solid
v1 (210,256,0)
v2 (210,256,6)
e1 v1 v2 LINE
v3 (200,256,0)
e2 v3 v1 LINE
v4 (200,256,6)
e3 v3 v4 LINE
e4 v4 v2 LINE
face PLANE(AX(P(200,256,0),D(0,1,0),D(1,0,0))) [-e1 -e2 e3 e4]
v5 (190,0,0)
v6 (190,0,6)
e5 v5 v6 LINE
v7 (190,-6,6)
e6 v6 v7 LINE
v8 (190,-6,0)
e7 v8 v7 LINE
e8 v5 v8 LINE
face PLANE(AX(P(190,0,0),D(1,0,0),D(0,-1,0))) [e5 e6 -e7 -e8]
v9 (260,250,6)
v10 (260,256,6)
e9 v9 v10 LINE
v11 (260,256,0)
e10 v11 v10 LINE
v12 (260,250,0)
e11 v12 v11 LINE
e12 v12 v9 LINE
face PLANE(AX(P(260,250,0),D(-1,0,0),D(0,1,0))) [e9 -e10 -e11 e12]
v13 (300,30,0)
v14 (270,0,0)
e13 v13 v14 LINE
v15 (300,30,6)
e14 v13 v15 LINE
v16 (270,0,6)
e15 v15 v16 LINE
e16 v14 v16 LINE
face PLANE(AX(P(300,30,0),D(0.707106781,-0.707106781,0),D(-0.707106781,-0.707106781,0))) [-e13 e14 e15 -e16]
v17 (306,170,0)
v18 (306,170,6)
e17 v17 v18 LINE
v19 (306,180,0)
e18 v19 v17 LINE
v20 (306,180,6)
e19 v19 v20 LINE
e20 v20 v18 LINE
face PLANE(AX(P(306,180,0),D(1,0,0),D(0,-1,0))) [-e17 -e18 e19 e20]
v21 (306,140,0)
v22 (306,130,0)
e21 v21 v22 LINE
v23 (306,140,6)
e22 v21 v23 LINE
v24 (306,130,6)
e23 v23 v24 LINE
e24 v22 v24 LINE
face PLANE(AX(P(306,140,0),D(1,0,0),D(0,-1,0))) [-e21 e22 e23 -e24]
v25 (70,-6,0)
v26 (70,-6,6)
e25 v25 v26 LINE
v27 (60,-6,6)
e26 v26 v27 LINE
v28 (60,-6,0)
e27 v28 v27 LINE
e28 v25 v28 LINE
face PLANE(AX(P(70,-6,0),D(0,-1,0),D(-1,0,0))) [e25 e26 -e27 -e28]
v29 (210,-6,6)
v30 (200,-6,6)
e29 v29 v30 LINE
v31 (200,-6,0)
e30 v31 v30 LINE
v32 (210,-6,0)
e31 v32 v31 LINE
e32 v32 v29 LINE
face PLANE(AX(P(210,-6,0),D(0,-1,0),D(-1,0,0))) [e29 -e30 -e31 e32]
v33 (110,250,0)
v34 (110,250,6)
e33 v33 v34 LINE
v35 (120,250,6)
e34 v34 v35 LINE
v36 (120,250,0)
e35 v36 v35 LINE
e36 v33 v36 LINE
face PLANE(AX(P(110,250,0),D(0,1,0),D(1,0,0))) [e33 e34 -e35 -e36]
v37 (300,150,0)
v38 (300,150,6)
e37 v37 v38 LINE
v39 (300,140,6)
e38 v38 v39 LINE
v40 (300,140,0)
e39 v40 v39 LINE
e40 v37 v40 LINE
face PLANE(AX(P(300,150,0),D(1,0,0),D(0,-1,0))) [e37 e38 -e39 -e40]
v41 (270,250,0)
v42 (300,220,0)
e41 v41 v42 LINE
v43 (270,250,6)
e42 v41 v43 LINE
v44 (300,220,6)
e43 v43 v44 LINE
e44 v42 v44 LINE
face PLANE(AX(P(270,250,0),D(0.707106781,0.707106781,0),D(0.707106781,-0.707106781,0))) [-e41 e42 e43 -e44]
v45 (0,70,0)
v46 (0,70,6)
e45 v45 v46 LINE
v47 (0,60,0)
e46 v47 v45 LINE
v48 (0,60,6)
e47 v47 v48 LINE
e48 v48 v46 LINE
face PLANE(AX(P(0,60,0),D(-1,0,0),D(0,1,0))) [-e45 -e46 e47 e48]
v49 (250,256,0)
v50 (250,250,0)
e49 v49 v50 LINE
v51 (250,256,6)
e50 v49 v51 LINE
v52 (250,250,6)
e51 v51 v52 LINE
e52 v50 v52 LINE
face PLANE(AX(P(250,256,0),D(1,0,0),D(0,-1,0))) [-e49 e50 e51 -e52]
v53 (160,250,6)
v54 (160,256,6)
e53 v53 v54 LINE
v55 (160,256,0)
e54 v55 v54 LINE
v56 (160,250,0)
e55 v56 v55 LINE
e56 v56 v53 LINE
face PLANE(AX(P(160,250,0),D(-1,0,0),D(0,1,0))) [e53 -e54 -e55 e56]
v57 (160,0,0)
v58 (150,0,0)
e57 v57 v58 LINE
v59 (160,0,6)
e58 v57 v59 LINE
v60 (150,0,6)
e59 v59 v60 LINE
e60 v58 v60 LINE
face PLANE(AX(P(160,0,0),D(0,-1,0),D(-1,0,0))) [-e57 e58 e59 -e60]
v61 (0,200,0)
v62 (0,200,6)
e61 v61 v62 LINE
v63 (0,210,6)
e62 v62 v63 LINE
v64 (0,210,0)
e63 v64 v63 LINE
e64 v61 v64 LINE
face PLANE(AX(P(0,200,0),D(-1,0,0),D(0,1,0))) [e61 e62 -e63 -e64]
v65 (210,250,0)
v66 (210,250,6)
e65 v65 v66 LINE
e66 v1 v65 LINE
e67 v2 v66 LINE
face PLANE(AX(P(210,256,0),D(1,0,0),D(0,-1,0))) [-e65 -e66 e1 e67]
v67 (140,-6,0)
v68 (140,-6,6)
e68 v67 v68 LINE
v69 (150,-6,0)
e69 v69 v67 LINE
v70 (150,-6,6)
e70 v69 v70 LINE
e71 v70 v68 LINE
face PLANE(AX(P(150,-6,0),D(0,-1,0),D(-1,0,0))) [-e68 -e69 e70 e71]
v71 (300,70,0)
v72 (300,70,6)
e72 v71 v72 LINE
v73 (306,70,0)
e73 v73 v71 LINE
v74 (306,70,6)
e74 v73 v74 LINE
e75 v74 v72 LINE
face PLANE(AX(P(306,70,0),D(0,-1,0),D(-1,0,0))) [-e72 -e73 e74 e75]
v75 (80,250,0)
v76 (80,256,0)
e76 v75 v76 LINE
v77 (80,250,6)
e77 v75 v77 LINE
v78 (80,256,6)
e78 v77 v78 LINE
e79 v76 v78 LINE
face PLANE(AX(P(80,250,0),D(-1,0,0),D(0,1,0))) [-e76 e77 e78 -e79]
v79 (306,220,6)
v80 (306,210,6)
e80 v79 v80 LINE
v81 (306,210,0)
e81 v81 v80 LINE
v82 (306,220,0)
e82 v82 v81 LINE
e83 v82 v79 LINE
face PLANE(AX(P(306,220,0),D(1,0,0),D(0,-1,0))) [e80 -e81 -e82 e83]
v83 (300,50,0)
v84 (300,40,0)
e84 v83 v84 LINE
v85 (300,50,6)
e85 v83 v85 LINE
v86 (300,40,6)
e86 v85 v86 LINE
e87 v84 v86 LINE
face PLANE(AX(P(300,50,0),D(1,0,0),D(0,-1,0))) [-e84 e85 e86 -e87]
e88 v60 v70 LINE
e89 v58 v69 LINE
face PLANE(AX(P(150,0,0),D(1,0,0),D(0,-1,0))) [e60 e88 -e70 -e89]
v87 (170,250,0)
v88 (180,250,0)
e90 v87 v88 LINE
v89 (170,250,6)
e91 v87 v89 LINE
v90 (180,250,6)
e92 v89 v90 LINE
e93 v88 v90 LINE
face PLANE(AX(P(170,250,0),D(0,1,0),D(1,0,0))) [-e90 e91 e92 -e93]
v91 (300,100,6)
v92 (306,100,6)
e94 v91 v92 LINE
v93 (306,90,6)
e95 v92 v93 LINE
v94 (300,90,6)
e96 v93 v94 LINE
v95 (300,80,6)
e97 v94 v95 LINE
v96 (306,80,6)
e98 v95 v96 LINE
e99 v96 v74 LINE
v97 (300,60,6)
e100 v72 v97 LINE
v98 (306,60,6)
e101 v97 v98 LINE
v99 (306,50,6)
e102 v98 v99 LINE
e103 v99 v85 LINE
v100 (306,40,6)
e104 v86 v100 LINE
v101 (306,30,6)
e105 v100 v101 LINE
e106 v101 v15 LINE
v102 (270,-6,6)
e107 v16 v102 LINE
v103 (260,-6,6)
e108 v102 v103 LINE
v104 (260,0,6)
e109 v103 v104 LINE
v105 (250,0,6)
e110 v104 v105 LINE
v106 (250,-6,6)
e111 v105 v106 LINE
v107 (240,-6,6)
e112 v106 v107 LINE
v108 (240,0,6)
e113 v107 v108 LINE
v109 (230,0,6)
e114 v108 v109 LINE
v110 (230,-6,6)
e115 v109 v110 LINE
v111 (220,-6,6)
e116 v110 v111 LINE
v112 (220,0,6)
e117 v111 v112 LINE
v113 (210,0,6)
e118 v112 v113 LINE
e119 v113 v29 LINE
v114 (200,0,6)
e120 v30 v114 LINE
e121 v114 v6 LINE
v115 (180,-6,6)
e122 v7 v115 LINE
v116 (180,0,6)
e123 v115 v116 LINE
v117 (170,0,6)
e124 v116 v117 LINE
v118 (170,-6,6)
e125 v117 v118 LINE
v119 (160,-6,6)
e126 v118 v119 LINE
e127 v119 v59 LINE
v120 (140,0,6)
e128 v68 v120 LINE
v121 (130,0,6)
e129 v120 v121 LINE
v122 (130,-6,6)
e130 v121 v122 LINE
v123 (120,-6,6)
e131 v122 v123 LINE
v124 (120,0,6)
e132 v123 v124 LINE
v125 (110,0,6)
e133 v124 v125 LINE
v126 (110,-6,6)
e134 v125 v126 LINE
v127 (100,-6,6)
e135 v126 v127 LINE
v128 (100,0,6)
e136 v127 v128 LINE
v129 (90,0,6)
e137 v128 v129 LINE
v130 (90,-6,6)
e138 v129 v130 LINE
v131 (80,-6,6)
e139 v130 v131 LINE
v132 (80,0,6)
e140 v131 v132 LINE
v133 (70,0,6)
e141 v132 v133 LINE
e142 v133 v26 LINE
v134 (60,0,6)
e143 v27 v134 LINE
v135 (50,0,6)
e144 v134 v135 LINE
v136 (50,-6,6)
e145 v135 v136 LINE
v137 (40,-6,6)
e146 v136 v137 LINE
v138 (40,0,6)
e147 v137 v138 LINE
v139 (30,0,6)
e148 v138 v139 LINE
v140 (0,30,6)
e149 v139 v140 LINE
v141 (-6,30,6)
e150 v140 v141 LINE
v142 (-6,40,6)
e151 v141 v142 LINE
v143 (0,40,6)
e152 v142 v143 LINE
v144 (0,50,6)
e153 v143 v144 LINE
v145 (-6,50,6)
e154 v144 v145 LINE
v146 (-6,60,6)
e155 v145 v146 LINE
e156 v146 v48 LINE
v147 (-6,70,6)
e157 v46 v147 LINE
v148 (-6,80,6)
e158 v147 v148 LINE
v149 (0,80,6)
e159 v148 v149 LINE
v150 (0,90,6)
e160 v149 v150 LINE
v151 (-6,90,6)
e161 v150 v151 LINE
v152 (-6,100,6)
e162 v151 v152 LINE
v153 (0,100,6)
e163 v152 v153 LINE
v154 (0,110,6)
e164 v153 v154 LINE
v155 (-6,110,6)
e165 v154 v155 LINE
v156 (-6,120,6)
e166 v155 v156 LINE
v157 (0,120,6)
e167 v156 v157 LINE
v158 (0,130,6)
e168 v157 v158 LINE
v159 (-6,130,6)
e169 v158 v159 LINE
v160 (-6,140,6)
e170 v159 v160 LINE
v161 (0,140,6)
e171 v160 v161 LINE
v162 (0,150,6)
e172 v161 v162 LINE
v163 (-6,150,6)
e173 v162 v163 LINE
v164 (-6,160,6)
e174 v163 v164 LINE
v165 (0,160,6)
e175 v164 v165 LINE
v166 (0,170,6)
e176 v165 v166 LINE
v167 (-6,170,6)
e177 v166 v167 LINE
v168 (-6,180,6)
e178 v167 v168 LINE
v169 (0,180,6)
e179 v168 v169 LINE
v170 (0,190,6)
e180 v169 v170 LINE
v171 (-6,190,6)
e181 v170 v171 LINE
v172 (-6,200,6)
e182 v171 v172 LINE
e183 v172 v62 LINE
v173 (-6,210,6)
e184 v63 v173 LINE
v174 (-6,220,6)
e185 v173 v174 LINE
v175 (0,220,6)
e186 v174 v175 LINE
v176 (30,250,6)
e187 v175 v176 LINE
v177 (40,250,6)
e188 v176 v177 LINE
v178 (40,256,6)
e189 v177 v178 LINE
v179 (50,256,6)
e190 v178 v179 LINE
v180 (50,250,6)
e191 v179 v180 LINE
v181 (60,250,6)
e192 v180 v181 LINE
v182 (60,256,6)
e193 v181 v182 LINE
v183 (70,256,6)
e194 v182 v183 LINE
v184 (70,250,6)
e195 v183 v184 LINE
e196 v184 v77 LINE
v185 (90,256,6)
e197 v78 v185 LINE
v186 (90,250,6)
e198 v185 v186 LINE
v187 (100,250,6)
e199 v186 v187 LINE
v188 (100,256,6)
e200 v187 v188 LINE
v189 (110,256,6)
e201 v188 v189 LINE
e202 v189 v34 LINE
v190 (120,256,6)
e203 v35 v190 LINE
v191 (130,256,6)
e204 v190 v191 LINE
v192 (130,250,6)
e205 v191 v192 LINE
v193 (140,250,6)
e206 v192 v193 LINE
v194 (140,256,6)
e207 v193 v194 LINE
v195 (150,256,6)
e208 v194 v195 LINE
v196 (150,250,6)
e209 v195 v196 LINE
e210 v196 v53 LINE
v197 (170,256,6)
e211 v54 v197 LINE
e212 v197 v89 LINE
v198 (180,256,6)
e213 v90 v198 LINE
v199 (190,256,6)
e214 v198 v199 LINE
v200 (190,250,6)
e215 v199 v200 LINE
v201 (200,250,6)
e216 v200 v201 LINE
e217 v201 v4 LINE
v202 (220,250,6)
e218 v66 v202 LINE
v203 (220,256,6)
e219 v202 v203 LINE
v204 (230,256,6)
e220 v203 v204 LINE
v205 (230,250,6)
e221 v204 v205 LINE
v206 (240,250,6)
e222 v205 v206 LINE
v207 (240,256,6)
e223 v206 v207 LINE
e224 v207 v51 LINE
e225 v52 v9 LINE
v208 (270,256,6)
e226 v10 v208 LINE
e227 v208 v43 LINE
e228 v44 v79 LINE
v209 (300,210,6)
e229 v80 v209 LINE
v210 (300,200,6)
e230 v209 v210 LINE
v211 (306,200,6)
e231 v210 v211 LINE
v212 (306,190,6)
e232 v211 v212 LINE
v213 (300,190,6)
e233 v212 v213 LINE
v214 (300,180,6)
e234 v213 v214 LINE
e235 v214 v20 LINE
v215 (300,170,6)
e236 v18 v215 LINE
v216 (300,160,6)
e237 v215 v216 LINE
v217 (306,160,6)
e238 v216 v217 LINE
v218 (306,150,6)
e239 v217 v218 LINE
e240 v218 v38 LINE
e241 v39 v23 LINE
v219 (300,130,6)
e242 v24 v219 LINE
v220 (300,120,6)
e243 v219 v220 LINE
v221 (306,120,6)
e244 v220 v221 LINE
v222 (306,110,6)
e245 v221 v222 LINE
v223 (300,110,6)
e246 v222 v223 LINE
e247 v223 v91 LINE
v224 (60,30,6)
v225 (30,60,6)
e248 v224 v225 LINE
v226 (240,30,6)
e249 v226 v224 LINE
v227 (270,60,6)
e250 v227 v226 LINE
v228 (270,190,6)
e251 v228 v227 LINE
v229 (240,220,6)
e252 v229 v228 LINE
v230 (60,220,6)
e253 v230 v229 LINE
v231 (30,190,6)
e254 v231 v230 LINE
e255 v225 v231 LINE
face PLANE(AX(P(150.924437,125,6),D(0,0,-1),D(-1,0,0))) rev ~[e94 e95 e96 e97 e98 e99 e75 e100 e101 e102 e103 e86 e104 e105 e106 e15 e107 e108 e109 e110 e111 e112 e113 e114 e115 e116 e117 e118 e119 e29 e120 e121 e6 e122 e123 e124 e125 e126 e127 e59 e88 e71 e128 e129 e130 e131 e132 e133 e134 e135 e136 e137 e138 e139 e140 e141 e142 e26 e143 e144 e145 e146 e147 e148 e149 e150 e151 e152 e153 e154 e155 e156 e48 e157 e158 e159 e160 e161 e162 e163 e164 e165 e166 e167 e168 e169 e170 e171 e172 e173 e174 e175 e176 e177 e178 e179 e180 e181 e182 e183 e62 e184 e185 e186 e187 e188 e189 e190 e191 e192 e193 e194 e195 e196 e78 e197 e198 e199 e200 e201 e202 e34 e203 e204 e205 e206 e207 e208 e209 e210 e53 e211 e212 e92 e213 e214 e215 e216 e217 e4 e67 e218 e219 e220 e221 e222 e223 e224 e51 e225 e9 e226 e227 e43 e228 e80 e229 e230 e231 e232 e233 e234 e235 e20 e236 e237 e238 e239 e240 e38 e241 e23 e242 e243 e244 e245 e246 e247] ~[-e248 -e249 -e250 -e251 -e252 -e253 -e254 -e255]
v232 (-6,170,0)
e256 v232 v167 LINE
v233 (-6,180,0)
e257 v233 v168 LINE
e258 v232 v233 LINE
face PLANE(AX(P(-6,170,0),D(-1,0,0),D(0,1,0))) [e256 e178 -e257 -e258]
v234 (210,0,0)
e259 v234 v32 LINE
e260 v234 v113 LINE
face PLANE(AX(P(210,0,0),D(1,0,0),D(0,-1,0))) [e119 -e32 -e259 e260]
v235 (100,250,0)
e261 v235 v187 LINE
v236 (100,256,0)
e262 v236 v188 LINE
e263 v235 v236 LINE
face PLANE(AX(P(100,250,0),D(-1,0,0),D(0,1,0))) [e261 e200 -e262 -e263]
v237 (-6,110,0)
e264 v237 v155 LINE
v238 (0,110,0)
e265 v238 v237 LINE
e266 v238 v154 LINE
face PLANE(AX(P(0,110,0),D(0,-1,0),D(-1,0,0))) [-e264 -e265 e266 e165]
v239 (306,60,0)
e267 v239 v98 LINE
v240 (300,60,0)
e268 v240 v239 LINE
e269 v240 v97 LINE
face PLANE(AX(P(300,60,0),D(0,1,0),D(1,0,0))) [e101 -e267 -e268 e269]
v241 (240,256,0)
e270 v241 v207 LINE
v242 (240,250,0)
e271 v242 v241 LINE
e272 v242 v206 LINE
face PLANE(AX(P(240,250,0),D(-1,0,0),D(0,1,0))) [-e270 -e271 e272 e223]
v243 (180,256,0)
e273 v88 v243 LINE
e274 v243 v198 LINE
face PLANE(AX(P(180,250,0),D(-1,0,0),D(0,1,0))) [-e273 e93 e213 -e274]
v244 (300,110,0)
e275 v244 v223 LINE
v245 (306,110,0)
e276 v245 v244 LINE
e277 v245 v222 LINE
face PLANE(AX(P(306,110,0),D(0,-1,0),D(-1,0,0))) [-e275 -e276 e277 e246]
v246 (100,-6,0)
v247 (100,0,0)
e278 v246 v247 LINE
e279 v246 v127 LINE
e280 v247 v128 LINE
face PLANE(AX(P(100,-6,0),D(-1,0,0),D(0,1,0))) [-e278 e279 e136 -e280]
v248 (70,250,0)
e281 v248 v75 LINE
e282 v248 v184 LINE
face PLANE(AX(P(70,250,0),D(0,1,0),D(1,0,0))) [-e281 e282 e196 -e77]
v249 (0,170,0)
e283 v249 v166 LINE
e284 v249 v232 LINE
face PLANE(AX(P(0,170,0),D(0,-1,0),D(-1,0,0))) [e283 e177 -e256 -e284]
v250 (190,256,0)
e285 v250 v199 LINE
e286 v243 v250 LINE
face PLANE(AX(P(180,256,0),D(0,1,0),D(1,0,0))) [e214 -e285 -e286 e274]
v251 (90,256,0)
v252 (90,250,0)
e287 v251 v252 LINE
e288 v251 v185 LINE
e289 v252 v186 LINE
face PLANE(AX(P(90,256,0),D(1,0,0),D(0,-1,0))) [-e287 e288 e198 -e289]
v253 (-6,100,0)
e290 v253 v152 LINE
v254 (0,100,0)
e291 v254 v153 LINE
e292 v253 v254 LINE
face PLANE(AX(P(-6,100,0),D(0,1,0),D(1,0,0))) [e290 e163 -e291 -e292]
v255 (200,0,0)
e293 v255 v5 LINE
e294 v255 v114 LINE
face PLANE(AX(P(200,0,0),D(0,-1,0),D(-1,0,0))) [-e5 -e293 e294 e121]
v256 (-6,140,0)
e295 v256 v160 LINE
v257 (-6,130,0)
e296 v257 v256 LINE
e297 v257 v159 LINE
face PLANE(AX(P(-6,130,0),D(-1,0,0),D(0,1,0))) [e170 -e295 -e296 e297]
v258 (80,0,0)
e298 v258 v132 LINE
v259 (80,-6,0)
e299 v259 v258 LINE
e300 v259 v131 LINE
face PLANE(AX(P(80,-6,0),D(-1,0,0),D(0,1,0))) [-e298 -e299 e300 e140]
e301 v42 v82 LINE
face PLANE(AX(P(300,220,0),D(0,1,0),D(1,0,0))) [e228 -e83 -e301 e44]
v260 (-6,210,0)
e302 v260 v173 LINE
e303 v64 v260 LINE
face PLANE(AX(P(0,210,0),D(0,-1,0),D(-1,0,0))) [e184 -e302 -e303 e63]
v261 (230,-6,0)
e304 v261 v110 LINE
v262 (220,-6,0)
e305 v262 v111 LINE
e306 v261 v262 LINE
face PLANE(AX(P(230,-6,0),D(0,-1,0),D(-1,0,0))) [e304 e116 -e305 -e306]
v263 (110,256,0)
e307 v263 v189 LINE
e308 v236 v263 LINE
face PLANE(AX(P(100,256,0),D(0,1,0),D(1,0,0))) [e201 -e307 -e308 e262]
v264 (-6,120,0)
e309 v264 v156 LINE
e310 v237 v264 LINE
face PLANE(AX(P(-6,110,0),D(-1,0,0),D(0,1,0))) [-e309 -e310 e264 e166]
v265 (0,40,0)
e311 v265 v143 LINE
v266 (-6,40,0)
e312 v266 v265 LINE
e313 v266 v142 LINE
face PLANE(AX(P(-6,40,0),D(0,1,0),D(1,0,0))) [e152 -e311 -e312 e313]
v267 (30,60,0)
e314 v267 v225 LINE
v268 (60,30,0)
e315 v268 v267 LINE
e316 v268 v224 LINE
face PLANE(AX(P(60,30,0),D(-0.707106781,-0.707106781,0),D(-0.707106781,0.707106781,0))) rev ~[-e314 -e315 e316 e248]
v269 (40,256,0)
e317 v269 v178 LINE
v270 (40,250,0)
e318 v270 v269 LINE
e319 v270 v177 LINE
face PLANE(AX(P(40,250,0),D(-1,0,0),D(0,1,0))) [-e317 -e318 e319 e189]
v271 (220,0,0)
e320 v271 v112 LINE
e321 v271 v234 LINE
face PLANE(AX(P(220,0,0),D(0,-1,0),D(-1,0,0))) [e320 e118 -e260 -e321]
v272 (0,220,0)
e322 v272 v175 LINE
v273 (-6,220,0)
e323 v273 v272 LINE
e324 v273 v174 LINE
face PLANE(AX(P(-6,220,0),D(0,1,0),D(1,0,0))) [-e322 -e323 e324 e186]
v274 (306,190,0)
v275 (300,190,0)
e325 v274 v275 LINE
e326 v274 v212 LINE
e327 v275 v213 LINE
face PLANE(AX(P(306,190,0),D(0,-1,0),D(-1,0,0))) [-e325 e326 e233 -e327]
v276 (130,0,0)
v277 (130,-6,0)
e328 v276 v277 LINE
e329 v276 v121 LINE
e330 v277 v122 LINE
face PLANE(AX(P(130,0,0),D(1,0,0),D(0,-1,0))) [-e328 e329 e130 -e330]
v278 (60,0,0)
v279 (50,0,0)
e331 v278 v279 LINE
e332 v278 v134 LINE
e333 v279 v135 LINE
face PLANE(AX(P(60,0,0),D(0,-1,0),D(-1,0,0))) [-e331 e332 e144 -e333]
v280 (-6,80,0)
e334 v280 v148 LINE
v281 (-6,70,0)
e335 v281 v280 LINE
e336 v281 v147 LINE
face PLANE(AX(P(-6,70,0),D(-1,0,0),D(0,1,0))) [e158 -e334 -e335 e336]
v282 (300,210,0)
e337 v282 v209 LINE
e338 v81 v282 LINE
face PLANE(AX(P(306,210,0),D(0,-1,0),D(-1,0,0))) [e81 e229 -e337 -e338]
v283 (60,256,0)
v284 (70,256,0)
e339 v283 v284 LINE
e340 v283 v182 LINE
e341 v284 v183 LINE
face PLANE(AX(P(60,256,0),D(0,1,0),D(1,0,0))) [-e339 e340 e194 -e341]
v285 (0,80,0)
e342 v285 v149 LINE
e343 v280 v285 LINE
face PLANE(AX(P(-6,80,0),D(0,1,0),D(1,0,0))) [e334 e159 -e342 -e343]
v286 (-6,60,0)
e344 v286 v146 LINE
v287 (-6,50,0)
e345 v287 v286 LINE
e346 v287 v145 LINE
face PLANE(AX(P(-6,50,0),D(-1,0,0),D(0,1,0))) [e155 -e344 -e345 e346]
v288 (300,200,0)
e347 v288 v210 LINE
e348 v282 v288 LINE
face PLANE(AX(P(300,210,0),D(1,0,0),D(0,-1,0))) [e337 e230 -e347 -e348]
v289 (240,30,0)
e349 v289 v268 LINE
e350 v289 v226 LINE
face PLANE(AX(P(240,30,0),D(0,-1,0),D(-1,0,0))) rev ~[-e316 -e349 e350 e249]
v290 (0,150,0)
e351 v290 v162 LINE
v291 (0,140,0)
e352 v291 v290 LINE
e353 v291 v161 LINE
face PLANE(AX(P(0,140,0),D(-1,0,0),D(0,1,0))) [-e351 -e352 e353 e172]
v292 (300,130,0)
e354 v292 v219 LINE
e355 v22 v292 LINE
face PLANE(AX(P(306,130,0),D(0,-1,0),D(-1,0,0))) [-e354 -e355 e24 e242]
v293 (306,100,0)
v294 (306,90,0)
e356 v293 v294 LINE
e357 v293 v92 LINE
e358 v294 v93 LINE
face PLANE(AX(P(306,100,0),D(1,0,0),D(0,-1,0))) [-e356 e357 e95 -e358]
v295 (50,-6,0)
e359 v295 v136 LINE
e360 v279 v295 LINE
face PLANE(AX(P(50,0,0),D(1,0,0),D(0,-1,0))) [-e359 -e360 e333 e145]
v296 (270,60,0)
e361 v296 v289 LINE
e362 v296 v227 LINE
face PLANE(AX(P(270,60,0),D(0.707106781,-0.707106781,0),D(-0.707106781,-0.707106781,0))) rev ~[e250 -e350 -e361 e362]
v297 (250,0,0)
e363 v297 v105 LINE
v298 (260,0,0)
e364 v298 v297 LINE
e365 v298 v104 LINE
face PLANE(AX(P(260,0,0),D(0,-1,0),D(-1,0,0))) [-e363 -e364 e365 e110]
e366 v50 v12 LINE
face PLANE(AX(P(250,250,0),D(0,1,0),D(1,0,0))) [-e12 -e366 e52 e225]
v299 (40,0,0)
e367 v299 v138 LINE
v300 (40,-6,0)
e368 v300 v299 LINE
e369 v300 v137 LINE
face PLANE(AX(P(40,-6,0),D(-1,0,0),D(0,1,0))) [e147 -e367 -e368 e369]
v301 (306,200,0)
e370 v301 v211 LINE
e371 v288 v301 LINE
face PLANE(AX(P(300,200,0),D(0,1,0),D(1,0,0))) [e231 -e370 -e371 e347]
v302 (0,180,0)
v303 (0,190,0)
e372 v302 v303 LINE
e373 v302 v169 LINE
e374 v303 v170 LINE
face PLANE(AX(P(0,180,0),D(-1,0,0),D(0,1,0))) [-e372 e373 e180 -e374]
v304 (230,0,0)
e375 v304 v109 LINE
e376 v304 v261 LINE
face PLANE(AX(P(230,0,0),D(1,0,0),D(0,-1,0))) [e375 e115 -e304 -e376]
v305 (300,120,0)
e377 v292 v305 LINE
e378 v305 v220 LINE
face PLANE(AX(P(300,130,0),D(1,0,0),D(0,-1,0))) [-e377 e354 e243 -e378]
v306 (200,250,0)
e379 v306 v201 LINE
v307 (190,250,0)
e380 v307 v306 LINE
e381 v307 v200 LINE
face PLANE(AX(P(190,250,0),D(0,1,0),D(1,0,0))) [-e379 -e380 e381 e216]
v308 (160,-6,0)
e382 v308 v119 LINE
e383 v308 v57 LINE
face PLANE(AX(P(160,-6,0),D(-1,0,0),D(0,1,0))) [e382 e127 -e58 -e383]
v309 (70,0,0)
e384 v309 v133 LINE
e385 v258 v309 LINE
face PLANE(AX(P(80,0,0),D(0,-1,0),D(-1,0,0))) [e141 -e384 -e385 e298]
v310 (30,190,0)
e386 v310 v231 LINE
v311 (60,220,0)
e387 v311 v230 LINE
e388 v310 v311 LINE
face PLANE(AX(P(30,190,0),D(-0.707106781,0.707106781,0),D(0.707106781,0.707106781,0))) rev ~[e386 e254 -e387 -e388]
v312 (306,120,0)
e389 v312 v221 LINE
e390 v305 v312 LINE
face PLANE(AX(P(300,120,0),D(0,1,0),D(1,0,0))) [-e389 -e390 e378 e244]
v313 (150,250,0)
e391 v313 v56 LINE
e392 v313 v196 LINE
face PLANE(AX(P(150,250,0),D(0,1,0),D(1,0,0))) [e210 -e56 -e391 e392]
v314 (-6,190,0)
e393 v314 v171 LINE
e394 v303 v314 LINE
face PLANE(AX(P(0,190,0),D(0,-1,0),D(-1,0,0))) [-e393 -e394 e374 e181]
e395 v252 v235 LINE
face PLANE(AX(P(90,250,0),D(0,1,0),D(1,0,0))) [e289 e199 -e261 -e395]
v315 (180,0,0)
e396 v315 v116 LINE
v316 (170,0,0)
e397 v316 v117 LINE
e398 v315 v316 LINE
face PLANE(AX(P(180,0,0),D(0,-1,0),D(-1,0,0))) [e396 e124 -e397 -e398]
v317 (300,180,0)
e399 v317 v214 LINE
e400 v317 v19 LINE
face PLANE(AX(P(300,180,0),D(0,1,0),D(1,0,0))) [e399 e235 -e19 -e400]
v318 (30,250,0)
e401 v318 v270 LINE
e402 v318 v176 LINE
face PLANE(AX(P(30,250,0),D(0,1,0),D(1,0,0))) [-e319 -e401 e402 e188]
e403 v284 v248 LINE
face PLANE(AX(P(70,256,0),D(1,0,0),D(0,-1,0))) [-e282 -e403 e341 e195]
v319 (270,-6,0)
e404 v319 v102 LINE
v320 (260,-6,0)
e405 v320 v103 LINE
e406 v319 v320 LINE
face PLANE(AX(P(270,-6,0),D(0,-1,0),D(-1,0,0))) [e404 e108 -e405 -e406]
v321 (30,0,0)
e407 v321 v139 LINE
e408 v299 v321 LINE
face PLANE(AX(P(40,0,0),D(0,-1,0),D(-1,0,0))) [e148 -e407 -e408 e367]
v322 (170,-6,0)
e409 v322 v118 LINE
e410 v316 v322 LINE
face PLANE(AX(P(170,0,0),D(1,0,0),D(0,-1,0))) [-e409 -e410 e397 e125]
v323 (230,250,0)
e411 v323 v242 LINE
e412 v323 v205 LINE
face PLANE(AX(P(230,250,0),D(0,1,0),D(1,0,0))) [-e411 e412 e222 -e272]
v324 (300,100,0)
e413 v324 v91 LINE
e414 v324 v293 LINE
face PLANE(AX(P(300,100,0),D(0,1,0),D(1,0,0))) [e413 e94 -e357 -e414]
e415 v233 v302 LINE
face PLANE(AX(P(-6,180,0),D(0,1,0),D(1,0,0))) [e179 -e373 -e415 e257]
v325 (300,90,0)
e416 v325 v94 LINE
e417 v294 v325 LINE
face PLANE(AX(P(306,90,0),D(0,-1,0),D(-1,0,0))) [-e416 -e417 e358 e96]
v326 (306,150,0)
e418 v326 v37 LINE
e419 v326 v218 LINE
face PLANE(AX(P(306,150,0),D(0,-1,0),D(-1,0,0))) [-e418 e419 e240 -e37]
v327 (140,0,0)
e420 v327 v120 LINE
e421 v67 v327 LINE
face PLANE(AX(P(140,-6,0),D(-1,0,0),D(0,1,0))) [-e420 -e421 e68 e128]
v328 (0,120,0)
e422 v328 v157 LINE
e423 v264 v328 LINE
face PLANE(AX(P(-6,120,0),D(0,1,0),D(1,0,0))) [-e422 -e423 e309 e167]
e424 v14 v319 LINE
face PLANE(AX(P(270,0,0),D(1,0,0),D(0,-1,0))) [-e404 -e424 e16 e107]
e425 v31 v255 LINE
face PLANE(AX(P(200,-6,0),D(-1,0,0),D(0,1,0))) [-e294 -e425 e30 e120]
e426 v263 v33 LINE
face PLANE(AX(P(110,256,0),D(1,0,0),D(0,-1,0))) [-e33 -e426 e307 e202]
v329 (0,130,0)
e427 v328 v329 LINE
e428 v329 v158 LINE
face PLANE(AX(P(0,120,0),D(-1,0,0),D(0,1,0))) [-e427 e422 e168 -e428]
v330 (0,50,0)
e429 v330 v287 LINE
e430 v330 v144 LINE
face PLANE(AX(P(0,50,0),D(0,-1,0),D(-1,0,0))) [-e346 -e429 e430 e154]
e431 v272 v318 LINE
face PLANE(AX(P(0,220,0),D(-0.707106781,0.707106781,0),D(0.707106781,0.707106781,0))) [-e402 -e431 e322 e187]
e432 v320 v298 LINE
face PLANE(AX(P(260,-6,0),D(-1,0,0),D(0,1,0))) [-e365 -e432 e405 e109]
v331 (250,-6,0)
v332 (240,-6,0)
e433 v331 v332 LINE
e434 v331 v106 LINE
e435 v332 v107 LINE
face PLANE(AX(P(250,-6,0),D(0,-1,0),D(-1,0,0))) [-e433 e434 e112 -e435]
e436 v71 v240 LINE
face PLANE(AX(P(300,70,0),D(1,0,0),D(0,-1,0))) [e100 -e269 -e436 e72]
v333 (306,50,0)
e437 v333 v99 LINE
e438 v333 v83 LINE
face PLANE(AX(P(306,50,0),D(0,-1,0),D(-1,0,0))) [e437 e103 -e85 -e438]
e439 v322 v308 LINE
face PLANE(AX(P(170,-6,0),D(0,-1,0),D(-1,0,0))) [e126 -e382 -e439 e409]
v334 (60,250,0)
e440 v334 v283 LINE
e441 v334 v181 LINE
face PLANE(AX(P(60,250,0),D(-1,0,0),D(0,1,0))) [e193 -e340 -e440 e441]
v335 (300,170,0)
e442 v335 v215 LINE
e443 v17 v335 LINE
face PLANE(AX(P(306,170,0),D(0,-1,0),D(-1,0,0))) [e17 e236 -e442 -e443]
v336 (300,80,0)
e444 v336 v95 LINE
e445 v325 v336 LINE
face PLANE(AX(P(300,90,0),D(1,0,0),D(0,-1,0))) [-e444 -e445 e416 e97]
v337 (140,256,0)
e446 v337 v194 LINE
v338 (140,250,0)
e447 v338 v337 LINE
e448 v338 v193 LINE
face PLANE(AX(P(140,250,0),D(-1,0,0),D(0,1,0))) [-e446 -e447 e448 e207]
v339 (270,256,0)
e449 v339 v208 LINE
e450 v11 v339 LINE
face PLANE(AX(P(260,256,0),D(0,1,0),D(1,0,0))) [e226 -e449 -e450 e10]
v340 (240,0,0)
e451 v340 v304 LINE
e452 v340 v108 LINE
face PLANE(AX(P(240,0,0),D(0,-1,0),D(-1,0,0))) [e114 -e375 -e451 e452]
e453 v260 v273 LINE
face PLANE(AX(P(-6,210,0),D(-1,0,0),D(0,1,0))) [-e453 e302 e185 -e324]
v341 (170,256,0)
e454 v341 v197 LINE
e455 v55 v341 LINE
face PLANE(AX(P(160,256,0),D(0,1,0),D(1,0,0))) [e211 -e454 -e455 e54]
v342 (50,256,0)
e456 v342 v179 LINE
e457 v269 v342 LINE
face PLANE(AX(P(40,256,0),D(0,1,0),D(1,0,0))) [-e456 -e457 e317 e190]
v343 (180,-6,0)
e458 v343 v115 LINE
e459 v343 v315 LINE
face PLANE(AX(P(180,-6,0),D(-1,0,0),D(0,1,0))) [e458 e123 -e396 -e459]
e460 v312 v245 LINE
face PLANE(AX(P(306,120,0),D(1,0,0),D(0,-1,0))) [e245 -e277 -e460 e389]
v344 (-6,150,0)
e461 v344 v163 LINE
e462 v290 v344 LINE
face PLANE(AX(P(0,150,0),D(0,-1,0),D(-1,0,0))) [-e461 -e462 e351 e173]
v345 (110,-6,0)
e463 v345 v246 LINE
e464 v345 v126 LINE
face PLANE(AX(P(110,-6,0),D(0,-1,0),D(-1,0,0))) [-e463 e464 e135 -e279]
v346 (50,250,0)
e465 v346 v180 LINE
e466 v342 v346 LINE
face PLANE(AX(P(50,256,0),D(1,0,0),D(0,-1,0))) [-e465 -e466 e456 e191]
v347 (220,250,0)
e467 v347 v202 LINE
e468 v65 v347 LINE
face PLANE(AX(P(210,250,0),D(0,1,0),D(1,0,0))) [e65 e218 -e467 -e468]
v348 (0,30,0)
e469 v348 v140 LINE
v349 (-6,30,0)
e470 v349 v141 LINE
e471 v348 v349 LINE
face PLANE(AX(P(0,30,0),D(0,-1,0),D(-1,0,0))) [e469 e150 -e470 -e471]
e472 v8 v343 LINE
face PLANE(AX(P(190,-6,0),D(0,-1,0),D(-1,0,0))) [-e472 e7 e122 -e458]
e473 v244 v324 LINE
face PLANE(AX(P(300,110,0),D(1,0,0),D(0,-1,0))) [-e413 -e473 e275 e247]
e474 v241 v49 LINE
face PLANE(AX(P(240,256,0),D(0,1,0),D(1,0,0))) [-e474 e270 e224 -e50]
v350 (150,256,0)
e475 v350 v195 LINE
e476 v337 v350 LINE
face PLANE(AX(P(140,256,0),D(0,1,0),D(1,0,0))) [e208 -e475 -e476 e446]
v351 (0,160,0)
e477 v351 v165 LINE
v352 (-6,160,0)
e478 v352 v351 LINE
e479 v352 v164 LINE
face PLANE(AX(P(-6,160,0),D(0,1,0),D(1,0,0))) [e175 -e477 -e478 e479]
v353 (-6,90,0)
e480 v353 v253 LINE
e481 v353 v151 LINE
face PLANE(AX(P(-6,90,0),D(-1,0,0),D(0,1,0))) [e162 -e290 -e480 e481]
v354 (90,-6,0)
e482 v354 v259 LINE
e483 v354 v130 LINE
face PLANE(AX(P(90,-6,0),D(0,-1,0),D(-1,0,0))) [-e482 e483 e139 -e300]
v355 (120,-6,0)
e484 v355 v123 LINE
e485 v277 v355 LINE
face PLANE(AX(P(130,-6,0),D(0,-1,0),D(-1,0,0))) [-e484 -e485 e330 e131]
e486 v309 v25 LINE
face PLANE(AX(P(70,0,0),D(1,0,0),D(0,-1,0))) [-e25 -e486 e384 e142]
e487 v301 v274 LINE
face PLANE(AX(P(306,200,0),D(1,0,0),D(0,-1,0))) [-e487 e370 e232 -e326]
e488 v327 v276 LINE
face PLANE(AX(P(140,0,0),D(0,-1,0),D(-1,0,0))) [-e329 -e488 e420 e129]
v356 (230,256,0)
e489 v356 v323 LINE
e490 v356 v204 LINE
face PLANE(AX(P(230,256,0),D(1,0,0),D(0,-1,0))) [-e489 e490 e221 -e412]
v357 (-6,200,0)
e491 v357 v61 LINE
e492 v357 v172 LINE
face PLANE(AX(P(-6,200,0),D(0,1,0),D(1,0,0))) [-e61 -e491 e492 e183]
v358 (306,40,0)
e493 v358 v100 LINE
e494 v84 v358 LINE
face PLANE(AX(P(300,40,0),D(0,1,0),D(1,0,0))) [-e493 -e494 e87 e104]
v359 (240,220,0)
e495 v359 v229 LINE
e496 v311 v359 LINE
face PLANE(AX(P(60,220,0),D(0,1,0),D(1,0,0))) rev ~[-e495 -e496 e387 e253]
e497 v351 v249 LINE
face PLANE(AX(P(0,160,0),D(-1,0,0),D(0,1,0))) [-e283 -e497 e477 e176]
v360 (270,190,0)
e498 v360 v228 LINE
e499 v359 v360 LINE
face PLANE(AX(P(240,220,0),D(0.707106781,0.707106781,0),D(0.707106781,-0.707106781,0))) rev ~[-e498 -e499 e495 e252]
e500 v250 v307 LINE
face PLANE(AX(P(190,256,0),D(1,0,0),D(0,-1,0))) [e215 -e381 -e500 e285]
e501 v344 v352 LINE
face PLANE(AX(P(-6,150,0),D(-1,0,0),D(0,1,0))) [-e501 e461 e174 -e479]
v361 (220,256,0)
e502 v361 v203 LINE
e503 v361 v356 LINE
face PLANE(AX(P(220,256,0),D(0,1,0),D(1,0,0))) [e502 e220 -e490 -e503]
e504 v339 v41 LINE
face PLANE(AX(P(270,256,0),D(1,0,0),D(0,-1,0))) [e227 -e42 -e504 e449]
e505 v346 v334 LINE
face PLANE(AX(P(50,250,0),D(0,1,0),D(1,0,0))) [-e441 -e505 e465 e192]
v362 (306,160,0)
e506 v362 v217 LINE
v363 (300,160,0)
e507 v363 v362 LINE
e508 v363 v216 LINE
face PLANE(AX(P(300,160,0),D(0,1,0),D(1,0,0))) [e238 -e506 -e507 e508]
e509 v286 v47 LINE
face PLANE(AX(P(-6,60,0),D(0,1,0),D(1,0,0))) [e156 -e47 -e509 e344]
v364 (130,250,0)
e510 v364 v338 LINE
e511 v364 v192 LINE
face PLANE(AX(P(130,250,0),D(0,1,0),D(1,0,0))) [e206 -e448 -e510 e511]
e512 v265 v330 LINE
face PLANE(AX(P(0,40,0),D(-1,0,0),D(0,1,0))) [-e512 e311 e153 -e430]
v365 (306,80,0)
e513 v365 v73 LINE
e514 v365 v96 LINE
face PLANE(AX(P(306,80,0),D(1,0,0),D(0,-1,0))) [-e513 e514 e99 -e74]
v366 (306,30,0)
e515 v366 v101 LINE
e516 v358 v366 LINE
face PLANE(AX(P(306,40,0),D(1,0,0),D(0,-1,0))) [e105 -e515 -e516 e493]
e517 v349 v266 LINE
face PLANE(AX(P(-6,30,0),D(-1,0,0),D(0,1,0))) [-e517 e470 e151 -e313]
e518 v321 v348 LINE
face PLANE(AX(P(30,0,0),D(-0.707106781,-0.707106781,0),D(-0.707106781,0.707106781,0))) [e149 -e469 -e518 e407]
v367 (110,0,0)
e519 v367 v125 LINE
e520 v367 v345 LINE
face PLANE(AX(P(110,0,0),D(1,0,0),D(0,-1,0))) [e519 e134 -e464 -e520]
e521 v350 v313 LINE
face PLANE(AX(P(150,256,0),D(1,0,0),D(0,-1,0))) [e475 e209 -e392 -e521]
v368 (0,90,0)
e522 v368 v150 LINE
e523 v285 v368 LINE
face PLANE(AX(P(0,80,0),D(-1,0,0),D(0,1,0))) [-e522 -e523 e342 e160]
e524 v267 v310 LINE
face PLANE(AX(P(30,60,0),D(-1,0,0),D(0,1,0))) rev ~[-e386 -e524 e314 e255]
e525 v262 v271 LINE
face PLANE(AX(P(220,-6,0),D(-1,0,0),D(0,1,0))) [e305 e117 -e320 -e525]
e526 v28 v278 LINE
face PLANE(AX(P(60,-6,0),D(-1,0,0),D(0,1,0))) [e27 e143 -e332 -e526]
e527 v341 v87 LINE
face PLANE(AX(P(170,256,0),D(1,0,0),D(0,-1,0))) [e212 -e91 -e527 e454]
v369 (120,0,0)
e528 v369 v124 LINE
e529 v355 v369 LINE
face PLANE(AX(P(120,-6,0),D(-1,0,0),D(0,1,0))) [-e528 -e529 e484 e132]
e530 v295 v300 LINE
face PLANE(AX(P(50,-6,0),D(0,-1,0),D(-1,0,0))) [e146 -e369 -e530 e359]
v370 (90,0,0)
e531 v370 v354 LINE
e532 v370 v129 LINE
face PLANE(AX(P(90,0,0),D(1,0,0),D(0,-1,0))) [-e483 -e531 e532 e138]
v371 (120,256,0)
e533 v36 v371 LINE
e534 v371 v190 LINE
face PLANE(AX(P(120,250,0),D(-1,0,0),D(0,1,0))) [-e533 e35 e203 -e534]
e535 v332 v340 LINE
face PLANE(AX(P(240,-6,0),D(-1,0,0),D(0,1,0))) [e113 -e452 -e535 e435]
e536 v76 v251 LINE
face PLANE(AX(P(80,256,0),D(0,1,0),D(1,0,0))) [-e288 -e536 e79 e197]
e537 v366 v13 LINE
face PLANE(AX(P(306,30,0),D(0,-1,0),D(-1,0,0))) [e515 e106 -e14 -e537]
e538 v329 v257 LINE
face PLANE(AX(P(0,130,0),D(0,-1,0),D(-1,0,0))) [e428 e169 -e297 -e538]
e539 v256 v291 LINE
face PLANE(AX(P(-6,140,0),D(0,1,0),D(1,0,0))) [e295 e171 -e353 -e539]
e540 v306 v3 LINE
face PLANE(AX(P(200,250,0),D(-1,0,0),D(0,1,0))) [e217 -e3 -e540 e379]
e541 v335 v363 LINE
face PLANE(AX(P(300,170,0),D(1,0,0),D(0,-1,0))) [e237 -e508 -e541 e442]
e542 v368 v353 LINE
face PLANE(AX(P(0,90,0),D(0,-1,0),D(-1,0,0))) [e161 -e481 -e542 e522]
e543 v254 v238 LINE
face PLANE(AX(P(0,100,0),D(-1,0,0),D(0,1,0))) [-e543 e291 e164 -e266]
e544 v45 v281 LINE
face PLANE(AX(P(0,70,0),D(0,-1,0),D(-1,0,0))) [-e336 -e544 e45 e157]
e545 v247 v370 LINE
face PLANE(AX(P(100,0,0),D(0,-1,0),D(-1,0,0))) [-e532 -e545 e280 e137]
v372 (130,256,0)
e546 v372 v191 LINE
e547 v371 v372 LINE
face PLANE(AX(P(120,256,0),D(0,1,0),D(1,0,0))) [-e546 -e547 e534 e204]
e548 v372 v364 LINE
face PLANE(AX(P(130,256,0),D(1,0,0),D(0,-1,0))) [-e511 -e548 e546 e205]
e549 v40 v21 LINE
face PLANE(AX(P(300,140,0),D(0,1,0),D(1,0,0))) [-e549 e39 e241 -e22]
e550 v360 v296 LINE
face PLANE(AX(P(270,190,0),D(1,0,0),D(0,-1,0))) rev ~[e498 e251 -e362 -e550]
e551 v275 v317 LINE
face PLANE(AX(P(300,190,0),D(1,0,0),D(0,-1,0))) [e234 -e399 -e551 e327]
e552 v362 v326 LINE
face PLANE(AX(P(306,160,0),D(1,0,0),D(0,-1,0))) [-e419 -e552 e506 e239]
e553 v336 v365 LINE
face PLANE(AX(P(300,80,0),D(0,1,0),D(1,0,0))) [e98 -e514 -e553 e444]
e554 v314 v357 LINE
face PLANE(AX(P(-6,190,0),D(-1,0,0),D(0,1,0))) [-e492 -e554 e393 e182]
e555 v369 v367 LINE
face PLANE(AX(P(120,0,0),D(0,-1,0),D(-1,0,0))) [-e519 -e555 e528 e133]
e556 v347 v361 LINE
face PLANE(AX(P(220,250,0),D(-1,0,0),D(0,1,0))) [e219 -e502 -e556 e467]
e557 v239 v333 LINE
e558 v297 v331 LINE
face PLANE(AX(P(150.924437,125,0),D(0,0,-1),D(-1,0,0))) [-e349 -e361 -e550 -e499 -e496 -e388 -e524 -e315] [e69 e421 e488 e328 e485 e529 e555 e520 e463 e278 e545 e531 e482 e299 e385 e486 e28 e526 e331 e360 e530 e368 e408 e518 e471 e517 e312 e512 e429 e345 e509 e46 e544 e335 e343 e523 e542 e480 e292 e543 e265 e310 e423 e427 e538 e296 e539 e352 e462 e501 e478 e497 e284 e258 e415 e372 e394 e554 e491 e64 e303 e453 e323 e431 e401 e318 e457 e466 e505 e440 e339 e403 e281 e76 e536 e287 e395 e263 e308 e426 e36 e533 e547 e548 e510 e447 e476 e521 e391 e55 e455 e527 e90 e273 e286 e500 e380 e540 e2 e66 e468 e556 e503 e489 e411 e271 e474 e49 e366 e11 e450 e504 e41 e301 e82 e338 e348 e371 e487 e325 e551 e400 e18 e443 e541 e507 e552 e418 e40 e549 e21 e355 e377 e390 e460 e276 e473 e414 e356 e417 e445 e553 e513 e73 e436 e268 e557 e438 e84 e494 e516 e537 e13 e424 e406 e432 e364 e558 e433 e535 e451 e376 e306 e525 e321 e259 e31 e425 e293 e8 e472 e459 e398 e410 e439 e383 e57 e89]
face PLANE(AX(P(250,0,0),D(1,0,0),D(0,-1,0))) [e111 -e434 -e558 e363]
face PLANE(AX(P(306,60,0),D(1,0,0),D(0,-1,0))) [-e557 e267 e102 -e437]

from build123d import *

# Parameters (mm, degrees)
AUFSATZ_LINEAR_AUSTRAGEN2_DEPTH = 6


with BuildPart() as part:
    # Skizze1 → Aufsatz-Linear austragen2 (new body)
    with BuildSketch(Plane.XY):
        Polygon((30, 0), (0, 30), (-6, 30), (-6, 40), (0, 40), (0, 50), (-6, 50), (-6, 60), (0, 60), (0, 70), (-6, 70), (-6, 80), (0, 80), (0, 90), (-6, 90), (-6, 100), (0, 100), (0, 110), (-6, 110), (-6, 120), (0, 120), (0, 130), (-6, 130), (-6, 140), (0, 140), (0, 150), (-6, 150), (-6, 160), (0, 160), (0, 170), (-6, 170), (-6, 180), (0, 180), (0, 190), (-6, 190), (-6, 200), (0, 200), (0, 210), (-6, 210), (-6, 220), (0, 220), (30, 250), (40, 250), (40, 256), (50, 256), (50, 250), (60, 250), (60, 256), (70, 256), (70, 250), (80, 250), (80, 256), (90, 256), (90, 250), (100, 250), (100, 256), (110, 256), (110, 250), (120, 250), (120, 256), (130, 256), (130, 250), (140, 250), (140, 256), (150, 256), (150, 250), (160, 250), (160, 256), (170, 256), (170, 250), (180, 250), (180, 256), (190, 256), (190, 250), (200, 250), (200, 256), (210, 256), (210, 250), (220, 250), (220, 256), (230, 256), (230, 250), (240, 250), (240, 256), (250, 256), (250, 250), (260, 250), (260, 256), (270, 256), (270, 250), (300, 220), (306, 220), (306, 210), (300, 210), (300, 200), (306, 200), (306, 190), (300, 190), (300, 180), (306, 180), (306, 170), (300, 170), (300, 160), (306, 160), (306, 150), (300, 150), (300, 140), (306, 140), (306, 130), (300, 130), (300, 120), (306, 120), (306, 110), (300, 110), (300, 100), (306, 100), (306, 90), (300, 90), (300, 80), (306, 80), (306, 70), (300, 70), (300, 60), (306, 60), (306, 50), (300, 50), (300, 40), (306, 40), (306, 30), (300, 30), (270, 0), (270, -6), (260, -6), (260, 0), (250, 0), (250, -6), (240, -6), (240, 0), (230, 0), (230, -6), (220, -6), (220, 0), (210, 0), (210, -6), (200, -6), (200, 0), (190, 0), (190, -6), (180, -6), (180, 0), (170, 0), (170, -6), (160, -6), (160, 0), (150, 0), (150, -6), (140, -6), (140, 0), (130, 0), (130, -6), (120, -6), (120, 0), (110, 0), (110, -6), (100, -6), (100, 0), (90, 0), (90, -6), (80, -6), (80, 0), (70, 0), (70, -6), (60, -6), (60, 0), (50, 0), (50, -6), (40, -6), (40, 0), align=None)
        Polygon((30, 190), (60, 220), (240, 220), (270, 190), (270, 60), (240, 30), (60, 30), (30, 60), align=None, mode=Mode.SUBTRACT)
    extrude(amount=AUFSATZ_LINEAR_AUSTRAGEN2_DEPTH)


solid = part.part
